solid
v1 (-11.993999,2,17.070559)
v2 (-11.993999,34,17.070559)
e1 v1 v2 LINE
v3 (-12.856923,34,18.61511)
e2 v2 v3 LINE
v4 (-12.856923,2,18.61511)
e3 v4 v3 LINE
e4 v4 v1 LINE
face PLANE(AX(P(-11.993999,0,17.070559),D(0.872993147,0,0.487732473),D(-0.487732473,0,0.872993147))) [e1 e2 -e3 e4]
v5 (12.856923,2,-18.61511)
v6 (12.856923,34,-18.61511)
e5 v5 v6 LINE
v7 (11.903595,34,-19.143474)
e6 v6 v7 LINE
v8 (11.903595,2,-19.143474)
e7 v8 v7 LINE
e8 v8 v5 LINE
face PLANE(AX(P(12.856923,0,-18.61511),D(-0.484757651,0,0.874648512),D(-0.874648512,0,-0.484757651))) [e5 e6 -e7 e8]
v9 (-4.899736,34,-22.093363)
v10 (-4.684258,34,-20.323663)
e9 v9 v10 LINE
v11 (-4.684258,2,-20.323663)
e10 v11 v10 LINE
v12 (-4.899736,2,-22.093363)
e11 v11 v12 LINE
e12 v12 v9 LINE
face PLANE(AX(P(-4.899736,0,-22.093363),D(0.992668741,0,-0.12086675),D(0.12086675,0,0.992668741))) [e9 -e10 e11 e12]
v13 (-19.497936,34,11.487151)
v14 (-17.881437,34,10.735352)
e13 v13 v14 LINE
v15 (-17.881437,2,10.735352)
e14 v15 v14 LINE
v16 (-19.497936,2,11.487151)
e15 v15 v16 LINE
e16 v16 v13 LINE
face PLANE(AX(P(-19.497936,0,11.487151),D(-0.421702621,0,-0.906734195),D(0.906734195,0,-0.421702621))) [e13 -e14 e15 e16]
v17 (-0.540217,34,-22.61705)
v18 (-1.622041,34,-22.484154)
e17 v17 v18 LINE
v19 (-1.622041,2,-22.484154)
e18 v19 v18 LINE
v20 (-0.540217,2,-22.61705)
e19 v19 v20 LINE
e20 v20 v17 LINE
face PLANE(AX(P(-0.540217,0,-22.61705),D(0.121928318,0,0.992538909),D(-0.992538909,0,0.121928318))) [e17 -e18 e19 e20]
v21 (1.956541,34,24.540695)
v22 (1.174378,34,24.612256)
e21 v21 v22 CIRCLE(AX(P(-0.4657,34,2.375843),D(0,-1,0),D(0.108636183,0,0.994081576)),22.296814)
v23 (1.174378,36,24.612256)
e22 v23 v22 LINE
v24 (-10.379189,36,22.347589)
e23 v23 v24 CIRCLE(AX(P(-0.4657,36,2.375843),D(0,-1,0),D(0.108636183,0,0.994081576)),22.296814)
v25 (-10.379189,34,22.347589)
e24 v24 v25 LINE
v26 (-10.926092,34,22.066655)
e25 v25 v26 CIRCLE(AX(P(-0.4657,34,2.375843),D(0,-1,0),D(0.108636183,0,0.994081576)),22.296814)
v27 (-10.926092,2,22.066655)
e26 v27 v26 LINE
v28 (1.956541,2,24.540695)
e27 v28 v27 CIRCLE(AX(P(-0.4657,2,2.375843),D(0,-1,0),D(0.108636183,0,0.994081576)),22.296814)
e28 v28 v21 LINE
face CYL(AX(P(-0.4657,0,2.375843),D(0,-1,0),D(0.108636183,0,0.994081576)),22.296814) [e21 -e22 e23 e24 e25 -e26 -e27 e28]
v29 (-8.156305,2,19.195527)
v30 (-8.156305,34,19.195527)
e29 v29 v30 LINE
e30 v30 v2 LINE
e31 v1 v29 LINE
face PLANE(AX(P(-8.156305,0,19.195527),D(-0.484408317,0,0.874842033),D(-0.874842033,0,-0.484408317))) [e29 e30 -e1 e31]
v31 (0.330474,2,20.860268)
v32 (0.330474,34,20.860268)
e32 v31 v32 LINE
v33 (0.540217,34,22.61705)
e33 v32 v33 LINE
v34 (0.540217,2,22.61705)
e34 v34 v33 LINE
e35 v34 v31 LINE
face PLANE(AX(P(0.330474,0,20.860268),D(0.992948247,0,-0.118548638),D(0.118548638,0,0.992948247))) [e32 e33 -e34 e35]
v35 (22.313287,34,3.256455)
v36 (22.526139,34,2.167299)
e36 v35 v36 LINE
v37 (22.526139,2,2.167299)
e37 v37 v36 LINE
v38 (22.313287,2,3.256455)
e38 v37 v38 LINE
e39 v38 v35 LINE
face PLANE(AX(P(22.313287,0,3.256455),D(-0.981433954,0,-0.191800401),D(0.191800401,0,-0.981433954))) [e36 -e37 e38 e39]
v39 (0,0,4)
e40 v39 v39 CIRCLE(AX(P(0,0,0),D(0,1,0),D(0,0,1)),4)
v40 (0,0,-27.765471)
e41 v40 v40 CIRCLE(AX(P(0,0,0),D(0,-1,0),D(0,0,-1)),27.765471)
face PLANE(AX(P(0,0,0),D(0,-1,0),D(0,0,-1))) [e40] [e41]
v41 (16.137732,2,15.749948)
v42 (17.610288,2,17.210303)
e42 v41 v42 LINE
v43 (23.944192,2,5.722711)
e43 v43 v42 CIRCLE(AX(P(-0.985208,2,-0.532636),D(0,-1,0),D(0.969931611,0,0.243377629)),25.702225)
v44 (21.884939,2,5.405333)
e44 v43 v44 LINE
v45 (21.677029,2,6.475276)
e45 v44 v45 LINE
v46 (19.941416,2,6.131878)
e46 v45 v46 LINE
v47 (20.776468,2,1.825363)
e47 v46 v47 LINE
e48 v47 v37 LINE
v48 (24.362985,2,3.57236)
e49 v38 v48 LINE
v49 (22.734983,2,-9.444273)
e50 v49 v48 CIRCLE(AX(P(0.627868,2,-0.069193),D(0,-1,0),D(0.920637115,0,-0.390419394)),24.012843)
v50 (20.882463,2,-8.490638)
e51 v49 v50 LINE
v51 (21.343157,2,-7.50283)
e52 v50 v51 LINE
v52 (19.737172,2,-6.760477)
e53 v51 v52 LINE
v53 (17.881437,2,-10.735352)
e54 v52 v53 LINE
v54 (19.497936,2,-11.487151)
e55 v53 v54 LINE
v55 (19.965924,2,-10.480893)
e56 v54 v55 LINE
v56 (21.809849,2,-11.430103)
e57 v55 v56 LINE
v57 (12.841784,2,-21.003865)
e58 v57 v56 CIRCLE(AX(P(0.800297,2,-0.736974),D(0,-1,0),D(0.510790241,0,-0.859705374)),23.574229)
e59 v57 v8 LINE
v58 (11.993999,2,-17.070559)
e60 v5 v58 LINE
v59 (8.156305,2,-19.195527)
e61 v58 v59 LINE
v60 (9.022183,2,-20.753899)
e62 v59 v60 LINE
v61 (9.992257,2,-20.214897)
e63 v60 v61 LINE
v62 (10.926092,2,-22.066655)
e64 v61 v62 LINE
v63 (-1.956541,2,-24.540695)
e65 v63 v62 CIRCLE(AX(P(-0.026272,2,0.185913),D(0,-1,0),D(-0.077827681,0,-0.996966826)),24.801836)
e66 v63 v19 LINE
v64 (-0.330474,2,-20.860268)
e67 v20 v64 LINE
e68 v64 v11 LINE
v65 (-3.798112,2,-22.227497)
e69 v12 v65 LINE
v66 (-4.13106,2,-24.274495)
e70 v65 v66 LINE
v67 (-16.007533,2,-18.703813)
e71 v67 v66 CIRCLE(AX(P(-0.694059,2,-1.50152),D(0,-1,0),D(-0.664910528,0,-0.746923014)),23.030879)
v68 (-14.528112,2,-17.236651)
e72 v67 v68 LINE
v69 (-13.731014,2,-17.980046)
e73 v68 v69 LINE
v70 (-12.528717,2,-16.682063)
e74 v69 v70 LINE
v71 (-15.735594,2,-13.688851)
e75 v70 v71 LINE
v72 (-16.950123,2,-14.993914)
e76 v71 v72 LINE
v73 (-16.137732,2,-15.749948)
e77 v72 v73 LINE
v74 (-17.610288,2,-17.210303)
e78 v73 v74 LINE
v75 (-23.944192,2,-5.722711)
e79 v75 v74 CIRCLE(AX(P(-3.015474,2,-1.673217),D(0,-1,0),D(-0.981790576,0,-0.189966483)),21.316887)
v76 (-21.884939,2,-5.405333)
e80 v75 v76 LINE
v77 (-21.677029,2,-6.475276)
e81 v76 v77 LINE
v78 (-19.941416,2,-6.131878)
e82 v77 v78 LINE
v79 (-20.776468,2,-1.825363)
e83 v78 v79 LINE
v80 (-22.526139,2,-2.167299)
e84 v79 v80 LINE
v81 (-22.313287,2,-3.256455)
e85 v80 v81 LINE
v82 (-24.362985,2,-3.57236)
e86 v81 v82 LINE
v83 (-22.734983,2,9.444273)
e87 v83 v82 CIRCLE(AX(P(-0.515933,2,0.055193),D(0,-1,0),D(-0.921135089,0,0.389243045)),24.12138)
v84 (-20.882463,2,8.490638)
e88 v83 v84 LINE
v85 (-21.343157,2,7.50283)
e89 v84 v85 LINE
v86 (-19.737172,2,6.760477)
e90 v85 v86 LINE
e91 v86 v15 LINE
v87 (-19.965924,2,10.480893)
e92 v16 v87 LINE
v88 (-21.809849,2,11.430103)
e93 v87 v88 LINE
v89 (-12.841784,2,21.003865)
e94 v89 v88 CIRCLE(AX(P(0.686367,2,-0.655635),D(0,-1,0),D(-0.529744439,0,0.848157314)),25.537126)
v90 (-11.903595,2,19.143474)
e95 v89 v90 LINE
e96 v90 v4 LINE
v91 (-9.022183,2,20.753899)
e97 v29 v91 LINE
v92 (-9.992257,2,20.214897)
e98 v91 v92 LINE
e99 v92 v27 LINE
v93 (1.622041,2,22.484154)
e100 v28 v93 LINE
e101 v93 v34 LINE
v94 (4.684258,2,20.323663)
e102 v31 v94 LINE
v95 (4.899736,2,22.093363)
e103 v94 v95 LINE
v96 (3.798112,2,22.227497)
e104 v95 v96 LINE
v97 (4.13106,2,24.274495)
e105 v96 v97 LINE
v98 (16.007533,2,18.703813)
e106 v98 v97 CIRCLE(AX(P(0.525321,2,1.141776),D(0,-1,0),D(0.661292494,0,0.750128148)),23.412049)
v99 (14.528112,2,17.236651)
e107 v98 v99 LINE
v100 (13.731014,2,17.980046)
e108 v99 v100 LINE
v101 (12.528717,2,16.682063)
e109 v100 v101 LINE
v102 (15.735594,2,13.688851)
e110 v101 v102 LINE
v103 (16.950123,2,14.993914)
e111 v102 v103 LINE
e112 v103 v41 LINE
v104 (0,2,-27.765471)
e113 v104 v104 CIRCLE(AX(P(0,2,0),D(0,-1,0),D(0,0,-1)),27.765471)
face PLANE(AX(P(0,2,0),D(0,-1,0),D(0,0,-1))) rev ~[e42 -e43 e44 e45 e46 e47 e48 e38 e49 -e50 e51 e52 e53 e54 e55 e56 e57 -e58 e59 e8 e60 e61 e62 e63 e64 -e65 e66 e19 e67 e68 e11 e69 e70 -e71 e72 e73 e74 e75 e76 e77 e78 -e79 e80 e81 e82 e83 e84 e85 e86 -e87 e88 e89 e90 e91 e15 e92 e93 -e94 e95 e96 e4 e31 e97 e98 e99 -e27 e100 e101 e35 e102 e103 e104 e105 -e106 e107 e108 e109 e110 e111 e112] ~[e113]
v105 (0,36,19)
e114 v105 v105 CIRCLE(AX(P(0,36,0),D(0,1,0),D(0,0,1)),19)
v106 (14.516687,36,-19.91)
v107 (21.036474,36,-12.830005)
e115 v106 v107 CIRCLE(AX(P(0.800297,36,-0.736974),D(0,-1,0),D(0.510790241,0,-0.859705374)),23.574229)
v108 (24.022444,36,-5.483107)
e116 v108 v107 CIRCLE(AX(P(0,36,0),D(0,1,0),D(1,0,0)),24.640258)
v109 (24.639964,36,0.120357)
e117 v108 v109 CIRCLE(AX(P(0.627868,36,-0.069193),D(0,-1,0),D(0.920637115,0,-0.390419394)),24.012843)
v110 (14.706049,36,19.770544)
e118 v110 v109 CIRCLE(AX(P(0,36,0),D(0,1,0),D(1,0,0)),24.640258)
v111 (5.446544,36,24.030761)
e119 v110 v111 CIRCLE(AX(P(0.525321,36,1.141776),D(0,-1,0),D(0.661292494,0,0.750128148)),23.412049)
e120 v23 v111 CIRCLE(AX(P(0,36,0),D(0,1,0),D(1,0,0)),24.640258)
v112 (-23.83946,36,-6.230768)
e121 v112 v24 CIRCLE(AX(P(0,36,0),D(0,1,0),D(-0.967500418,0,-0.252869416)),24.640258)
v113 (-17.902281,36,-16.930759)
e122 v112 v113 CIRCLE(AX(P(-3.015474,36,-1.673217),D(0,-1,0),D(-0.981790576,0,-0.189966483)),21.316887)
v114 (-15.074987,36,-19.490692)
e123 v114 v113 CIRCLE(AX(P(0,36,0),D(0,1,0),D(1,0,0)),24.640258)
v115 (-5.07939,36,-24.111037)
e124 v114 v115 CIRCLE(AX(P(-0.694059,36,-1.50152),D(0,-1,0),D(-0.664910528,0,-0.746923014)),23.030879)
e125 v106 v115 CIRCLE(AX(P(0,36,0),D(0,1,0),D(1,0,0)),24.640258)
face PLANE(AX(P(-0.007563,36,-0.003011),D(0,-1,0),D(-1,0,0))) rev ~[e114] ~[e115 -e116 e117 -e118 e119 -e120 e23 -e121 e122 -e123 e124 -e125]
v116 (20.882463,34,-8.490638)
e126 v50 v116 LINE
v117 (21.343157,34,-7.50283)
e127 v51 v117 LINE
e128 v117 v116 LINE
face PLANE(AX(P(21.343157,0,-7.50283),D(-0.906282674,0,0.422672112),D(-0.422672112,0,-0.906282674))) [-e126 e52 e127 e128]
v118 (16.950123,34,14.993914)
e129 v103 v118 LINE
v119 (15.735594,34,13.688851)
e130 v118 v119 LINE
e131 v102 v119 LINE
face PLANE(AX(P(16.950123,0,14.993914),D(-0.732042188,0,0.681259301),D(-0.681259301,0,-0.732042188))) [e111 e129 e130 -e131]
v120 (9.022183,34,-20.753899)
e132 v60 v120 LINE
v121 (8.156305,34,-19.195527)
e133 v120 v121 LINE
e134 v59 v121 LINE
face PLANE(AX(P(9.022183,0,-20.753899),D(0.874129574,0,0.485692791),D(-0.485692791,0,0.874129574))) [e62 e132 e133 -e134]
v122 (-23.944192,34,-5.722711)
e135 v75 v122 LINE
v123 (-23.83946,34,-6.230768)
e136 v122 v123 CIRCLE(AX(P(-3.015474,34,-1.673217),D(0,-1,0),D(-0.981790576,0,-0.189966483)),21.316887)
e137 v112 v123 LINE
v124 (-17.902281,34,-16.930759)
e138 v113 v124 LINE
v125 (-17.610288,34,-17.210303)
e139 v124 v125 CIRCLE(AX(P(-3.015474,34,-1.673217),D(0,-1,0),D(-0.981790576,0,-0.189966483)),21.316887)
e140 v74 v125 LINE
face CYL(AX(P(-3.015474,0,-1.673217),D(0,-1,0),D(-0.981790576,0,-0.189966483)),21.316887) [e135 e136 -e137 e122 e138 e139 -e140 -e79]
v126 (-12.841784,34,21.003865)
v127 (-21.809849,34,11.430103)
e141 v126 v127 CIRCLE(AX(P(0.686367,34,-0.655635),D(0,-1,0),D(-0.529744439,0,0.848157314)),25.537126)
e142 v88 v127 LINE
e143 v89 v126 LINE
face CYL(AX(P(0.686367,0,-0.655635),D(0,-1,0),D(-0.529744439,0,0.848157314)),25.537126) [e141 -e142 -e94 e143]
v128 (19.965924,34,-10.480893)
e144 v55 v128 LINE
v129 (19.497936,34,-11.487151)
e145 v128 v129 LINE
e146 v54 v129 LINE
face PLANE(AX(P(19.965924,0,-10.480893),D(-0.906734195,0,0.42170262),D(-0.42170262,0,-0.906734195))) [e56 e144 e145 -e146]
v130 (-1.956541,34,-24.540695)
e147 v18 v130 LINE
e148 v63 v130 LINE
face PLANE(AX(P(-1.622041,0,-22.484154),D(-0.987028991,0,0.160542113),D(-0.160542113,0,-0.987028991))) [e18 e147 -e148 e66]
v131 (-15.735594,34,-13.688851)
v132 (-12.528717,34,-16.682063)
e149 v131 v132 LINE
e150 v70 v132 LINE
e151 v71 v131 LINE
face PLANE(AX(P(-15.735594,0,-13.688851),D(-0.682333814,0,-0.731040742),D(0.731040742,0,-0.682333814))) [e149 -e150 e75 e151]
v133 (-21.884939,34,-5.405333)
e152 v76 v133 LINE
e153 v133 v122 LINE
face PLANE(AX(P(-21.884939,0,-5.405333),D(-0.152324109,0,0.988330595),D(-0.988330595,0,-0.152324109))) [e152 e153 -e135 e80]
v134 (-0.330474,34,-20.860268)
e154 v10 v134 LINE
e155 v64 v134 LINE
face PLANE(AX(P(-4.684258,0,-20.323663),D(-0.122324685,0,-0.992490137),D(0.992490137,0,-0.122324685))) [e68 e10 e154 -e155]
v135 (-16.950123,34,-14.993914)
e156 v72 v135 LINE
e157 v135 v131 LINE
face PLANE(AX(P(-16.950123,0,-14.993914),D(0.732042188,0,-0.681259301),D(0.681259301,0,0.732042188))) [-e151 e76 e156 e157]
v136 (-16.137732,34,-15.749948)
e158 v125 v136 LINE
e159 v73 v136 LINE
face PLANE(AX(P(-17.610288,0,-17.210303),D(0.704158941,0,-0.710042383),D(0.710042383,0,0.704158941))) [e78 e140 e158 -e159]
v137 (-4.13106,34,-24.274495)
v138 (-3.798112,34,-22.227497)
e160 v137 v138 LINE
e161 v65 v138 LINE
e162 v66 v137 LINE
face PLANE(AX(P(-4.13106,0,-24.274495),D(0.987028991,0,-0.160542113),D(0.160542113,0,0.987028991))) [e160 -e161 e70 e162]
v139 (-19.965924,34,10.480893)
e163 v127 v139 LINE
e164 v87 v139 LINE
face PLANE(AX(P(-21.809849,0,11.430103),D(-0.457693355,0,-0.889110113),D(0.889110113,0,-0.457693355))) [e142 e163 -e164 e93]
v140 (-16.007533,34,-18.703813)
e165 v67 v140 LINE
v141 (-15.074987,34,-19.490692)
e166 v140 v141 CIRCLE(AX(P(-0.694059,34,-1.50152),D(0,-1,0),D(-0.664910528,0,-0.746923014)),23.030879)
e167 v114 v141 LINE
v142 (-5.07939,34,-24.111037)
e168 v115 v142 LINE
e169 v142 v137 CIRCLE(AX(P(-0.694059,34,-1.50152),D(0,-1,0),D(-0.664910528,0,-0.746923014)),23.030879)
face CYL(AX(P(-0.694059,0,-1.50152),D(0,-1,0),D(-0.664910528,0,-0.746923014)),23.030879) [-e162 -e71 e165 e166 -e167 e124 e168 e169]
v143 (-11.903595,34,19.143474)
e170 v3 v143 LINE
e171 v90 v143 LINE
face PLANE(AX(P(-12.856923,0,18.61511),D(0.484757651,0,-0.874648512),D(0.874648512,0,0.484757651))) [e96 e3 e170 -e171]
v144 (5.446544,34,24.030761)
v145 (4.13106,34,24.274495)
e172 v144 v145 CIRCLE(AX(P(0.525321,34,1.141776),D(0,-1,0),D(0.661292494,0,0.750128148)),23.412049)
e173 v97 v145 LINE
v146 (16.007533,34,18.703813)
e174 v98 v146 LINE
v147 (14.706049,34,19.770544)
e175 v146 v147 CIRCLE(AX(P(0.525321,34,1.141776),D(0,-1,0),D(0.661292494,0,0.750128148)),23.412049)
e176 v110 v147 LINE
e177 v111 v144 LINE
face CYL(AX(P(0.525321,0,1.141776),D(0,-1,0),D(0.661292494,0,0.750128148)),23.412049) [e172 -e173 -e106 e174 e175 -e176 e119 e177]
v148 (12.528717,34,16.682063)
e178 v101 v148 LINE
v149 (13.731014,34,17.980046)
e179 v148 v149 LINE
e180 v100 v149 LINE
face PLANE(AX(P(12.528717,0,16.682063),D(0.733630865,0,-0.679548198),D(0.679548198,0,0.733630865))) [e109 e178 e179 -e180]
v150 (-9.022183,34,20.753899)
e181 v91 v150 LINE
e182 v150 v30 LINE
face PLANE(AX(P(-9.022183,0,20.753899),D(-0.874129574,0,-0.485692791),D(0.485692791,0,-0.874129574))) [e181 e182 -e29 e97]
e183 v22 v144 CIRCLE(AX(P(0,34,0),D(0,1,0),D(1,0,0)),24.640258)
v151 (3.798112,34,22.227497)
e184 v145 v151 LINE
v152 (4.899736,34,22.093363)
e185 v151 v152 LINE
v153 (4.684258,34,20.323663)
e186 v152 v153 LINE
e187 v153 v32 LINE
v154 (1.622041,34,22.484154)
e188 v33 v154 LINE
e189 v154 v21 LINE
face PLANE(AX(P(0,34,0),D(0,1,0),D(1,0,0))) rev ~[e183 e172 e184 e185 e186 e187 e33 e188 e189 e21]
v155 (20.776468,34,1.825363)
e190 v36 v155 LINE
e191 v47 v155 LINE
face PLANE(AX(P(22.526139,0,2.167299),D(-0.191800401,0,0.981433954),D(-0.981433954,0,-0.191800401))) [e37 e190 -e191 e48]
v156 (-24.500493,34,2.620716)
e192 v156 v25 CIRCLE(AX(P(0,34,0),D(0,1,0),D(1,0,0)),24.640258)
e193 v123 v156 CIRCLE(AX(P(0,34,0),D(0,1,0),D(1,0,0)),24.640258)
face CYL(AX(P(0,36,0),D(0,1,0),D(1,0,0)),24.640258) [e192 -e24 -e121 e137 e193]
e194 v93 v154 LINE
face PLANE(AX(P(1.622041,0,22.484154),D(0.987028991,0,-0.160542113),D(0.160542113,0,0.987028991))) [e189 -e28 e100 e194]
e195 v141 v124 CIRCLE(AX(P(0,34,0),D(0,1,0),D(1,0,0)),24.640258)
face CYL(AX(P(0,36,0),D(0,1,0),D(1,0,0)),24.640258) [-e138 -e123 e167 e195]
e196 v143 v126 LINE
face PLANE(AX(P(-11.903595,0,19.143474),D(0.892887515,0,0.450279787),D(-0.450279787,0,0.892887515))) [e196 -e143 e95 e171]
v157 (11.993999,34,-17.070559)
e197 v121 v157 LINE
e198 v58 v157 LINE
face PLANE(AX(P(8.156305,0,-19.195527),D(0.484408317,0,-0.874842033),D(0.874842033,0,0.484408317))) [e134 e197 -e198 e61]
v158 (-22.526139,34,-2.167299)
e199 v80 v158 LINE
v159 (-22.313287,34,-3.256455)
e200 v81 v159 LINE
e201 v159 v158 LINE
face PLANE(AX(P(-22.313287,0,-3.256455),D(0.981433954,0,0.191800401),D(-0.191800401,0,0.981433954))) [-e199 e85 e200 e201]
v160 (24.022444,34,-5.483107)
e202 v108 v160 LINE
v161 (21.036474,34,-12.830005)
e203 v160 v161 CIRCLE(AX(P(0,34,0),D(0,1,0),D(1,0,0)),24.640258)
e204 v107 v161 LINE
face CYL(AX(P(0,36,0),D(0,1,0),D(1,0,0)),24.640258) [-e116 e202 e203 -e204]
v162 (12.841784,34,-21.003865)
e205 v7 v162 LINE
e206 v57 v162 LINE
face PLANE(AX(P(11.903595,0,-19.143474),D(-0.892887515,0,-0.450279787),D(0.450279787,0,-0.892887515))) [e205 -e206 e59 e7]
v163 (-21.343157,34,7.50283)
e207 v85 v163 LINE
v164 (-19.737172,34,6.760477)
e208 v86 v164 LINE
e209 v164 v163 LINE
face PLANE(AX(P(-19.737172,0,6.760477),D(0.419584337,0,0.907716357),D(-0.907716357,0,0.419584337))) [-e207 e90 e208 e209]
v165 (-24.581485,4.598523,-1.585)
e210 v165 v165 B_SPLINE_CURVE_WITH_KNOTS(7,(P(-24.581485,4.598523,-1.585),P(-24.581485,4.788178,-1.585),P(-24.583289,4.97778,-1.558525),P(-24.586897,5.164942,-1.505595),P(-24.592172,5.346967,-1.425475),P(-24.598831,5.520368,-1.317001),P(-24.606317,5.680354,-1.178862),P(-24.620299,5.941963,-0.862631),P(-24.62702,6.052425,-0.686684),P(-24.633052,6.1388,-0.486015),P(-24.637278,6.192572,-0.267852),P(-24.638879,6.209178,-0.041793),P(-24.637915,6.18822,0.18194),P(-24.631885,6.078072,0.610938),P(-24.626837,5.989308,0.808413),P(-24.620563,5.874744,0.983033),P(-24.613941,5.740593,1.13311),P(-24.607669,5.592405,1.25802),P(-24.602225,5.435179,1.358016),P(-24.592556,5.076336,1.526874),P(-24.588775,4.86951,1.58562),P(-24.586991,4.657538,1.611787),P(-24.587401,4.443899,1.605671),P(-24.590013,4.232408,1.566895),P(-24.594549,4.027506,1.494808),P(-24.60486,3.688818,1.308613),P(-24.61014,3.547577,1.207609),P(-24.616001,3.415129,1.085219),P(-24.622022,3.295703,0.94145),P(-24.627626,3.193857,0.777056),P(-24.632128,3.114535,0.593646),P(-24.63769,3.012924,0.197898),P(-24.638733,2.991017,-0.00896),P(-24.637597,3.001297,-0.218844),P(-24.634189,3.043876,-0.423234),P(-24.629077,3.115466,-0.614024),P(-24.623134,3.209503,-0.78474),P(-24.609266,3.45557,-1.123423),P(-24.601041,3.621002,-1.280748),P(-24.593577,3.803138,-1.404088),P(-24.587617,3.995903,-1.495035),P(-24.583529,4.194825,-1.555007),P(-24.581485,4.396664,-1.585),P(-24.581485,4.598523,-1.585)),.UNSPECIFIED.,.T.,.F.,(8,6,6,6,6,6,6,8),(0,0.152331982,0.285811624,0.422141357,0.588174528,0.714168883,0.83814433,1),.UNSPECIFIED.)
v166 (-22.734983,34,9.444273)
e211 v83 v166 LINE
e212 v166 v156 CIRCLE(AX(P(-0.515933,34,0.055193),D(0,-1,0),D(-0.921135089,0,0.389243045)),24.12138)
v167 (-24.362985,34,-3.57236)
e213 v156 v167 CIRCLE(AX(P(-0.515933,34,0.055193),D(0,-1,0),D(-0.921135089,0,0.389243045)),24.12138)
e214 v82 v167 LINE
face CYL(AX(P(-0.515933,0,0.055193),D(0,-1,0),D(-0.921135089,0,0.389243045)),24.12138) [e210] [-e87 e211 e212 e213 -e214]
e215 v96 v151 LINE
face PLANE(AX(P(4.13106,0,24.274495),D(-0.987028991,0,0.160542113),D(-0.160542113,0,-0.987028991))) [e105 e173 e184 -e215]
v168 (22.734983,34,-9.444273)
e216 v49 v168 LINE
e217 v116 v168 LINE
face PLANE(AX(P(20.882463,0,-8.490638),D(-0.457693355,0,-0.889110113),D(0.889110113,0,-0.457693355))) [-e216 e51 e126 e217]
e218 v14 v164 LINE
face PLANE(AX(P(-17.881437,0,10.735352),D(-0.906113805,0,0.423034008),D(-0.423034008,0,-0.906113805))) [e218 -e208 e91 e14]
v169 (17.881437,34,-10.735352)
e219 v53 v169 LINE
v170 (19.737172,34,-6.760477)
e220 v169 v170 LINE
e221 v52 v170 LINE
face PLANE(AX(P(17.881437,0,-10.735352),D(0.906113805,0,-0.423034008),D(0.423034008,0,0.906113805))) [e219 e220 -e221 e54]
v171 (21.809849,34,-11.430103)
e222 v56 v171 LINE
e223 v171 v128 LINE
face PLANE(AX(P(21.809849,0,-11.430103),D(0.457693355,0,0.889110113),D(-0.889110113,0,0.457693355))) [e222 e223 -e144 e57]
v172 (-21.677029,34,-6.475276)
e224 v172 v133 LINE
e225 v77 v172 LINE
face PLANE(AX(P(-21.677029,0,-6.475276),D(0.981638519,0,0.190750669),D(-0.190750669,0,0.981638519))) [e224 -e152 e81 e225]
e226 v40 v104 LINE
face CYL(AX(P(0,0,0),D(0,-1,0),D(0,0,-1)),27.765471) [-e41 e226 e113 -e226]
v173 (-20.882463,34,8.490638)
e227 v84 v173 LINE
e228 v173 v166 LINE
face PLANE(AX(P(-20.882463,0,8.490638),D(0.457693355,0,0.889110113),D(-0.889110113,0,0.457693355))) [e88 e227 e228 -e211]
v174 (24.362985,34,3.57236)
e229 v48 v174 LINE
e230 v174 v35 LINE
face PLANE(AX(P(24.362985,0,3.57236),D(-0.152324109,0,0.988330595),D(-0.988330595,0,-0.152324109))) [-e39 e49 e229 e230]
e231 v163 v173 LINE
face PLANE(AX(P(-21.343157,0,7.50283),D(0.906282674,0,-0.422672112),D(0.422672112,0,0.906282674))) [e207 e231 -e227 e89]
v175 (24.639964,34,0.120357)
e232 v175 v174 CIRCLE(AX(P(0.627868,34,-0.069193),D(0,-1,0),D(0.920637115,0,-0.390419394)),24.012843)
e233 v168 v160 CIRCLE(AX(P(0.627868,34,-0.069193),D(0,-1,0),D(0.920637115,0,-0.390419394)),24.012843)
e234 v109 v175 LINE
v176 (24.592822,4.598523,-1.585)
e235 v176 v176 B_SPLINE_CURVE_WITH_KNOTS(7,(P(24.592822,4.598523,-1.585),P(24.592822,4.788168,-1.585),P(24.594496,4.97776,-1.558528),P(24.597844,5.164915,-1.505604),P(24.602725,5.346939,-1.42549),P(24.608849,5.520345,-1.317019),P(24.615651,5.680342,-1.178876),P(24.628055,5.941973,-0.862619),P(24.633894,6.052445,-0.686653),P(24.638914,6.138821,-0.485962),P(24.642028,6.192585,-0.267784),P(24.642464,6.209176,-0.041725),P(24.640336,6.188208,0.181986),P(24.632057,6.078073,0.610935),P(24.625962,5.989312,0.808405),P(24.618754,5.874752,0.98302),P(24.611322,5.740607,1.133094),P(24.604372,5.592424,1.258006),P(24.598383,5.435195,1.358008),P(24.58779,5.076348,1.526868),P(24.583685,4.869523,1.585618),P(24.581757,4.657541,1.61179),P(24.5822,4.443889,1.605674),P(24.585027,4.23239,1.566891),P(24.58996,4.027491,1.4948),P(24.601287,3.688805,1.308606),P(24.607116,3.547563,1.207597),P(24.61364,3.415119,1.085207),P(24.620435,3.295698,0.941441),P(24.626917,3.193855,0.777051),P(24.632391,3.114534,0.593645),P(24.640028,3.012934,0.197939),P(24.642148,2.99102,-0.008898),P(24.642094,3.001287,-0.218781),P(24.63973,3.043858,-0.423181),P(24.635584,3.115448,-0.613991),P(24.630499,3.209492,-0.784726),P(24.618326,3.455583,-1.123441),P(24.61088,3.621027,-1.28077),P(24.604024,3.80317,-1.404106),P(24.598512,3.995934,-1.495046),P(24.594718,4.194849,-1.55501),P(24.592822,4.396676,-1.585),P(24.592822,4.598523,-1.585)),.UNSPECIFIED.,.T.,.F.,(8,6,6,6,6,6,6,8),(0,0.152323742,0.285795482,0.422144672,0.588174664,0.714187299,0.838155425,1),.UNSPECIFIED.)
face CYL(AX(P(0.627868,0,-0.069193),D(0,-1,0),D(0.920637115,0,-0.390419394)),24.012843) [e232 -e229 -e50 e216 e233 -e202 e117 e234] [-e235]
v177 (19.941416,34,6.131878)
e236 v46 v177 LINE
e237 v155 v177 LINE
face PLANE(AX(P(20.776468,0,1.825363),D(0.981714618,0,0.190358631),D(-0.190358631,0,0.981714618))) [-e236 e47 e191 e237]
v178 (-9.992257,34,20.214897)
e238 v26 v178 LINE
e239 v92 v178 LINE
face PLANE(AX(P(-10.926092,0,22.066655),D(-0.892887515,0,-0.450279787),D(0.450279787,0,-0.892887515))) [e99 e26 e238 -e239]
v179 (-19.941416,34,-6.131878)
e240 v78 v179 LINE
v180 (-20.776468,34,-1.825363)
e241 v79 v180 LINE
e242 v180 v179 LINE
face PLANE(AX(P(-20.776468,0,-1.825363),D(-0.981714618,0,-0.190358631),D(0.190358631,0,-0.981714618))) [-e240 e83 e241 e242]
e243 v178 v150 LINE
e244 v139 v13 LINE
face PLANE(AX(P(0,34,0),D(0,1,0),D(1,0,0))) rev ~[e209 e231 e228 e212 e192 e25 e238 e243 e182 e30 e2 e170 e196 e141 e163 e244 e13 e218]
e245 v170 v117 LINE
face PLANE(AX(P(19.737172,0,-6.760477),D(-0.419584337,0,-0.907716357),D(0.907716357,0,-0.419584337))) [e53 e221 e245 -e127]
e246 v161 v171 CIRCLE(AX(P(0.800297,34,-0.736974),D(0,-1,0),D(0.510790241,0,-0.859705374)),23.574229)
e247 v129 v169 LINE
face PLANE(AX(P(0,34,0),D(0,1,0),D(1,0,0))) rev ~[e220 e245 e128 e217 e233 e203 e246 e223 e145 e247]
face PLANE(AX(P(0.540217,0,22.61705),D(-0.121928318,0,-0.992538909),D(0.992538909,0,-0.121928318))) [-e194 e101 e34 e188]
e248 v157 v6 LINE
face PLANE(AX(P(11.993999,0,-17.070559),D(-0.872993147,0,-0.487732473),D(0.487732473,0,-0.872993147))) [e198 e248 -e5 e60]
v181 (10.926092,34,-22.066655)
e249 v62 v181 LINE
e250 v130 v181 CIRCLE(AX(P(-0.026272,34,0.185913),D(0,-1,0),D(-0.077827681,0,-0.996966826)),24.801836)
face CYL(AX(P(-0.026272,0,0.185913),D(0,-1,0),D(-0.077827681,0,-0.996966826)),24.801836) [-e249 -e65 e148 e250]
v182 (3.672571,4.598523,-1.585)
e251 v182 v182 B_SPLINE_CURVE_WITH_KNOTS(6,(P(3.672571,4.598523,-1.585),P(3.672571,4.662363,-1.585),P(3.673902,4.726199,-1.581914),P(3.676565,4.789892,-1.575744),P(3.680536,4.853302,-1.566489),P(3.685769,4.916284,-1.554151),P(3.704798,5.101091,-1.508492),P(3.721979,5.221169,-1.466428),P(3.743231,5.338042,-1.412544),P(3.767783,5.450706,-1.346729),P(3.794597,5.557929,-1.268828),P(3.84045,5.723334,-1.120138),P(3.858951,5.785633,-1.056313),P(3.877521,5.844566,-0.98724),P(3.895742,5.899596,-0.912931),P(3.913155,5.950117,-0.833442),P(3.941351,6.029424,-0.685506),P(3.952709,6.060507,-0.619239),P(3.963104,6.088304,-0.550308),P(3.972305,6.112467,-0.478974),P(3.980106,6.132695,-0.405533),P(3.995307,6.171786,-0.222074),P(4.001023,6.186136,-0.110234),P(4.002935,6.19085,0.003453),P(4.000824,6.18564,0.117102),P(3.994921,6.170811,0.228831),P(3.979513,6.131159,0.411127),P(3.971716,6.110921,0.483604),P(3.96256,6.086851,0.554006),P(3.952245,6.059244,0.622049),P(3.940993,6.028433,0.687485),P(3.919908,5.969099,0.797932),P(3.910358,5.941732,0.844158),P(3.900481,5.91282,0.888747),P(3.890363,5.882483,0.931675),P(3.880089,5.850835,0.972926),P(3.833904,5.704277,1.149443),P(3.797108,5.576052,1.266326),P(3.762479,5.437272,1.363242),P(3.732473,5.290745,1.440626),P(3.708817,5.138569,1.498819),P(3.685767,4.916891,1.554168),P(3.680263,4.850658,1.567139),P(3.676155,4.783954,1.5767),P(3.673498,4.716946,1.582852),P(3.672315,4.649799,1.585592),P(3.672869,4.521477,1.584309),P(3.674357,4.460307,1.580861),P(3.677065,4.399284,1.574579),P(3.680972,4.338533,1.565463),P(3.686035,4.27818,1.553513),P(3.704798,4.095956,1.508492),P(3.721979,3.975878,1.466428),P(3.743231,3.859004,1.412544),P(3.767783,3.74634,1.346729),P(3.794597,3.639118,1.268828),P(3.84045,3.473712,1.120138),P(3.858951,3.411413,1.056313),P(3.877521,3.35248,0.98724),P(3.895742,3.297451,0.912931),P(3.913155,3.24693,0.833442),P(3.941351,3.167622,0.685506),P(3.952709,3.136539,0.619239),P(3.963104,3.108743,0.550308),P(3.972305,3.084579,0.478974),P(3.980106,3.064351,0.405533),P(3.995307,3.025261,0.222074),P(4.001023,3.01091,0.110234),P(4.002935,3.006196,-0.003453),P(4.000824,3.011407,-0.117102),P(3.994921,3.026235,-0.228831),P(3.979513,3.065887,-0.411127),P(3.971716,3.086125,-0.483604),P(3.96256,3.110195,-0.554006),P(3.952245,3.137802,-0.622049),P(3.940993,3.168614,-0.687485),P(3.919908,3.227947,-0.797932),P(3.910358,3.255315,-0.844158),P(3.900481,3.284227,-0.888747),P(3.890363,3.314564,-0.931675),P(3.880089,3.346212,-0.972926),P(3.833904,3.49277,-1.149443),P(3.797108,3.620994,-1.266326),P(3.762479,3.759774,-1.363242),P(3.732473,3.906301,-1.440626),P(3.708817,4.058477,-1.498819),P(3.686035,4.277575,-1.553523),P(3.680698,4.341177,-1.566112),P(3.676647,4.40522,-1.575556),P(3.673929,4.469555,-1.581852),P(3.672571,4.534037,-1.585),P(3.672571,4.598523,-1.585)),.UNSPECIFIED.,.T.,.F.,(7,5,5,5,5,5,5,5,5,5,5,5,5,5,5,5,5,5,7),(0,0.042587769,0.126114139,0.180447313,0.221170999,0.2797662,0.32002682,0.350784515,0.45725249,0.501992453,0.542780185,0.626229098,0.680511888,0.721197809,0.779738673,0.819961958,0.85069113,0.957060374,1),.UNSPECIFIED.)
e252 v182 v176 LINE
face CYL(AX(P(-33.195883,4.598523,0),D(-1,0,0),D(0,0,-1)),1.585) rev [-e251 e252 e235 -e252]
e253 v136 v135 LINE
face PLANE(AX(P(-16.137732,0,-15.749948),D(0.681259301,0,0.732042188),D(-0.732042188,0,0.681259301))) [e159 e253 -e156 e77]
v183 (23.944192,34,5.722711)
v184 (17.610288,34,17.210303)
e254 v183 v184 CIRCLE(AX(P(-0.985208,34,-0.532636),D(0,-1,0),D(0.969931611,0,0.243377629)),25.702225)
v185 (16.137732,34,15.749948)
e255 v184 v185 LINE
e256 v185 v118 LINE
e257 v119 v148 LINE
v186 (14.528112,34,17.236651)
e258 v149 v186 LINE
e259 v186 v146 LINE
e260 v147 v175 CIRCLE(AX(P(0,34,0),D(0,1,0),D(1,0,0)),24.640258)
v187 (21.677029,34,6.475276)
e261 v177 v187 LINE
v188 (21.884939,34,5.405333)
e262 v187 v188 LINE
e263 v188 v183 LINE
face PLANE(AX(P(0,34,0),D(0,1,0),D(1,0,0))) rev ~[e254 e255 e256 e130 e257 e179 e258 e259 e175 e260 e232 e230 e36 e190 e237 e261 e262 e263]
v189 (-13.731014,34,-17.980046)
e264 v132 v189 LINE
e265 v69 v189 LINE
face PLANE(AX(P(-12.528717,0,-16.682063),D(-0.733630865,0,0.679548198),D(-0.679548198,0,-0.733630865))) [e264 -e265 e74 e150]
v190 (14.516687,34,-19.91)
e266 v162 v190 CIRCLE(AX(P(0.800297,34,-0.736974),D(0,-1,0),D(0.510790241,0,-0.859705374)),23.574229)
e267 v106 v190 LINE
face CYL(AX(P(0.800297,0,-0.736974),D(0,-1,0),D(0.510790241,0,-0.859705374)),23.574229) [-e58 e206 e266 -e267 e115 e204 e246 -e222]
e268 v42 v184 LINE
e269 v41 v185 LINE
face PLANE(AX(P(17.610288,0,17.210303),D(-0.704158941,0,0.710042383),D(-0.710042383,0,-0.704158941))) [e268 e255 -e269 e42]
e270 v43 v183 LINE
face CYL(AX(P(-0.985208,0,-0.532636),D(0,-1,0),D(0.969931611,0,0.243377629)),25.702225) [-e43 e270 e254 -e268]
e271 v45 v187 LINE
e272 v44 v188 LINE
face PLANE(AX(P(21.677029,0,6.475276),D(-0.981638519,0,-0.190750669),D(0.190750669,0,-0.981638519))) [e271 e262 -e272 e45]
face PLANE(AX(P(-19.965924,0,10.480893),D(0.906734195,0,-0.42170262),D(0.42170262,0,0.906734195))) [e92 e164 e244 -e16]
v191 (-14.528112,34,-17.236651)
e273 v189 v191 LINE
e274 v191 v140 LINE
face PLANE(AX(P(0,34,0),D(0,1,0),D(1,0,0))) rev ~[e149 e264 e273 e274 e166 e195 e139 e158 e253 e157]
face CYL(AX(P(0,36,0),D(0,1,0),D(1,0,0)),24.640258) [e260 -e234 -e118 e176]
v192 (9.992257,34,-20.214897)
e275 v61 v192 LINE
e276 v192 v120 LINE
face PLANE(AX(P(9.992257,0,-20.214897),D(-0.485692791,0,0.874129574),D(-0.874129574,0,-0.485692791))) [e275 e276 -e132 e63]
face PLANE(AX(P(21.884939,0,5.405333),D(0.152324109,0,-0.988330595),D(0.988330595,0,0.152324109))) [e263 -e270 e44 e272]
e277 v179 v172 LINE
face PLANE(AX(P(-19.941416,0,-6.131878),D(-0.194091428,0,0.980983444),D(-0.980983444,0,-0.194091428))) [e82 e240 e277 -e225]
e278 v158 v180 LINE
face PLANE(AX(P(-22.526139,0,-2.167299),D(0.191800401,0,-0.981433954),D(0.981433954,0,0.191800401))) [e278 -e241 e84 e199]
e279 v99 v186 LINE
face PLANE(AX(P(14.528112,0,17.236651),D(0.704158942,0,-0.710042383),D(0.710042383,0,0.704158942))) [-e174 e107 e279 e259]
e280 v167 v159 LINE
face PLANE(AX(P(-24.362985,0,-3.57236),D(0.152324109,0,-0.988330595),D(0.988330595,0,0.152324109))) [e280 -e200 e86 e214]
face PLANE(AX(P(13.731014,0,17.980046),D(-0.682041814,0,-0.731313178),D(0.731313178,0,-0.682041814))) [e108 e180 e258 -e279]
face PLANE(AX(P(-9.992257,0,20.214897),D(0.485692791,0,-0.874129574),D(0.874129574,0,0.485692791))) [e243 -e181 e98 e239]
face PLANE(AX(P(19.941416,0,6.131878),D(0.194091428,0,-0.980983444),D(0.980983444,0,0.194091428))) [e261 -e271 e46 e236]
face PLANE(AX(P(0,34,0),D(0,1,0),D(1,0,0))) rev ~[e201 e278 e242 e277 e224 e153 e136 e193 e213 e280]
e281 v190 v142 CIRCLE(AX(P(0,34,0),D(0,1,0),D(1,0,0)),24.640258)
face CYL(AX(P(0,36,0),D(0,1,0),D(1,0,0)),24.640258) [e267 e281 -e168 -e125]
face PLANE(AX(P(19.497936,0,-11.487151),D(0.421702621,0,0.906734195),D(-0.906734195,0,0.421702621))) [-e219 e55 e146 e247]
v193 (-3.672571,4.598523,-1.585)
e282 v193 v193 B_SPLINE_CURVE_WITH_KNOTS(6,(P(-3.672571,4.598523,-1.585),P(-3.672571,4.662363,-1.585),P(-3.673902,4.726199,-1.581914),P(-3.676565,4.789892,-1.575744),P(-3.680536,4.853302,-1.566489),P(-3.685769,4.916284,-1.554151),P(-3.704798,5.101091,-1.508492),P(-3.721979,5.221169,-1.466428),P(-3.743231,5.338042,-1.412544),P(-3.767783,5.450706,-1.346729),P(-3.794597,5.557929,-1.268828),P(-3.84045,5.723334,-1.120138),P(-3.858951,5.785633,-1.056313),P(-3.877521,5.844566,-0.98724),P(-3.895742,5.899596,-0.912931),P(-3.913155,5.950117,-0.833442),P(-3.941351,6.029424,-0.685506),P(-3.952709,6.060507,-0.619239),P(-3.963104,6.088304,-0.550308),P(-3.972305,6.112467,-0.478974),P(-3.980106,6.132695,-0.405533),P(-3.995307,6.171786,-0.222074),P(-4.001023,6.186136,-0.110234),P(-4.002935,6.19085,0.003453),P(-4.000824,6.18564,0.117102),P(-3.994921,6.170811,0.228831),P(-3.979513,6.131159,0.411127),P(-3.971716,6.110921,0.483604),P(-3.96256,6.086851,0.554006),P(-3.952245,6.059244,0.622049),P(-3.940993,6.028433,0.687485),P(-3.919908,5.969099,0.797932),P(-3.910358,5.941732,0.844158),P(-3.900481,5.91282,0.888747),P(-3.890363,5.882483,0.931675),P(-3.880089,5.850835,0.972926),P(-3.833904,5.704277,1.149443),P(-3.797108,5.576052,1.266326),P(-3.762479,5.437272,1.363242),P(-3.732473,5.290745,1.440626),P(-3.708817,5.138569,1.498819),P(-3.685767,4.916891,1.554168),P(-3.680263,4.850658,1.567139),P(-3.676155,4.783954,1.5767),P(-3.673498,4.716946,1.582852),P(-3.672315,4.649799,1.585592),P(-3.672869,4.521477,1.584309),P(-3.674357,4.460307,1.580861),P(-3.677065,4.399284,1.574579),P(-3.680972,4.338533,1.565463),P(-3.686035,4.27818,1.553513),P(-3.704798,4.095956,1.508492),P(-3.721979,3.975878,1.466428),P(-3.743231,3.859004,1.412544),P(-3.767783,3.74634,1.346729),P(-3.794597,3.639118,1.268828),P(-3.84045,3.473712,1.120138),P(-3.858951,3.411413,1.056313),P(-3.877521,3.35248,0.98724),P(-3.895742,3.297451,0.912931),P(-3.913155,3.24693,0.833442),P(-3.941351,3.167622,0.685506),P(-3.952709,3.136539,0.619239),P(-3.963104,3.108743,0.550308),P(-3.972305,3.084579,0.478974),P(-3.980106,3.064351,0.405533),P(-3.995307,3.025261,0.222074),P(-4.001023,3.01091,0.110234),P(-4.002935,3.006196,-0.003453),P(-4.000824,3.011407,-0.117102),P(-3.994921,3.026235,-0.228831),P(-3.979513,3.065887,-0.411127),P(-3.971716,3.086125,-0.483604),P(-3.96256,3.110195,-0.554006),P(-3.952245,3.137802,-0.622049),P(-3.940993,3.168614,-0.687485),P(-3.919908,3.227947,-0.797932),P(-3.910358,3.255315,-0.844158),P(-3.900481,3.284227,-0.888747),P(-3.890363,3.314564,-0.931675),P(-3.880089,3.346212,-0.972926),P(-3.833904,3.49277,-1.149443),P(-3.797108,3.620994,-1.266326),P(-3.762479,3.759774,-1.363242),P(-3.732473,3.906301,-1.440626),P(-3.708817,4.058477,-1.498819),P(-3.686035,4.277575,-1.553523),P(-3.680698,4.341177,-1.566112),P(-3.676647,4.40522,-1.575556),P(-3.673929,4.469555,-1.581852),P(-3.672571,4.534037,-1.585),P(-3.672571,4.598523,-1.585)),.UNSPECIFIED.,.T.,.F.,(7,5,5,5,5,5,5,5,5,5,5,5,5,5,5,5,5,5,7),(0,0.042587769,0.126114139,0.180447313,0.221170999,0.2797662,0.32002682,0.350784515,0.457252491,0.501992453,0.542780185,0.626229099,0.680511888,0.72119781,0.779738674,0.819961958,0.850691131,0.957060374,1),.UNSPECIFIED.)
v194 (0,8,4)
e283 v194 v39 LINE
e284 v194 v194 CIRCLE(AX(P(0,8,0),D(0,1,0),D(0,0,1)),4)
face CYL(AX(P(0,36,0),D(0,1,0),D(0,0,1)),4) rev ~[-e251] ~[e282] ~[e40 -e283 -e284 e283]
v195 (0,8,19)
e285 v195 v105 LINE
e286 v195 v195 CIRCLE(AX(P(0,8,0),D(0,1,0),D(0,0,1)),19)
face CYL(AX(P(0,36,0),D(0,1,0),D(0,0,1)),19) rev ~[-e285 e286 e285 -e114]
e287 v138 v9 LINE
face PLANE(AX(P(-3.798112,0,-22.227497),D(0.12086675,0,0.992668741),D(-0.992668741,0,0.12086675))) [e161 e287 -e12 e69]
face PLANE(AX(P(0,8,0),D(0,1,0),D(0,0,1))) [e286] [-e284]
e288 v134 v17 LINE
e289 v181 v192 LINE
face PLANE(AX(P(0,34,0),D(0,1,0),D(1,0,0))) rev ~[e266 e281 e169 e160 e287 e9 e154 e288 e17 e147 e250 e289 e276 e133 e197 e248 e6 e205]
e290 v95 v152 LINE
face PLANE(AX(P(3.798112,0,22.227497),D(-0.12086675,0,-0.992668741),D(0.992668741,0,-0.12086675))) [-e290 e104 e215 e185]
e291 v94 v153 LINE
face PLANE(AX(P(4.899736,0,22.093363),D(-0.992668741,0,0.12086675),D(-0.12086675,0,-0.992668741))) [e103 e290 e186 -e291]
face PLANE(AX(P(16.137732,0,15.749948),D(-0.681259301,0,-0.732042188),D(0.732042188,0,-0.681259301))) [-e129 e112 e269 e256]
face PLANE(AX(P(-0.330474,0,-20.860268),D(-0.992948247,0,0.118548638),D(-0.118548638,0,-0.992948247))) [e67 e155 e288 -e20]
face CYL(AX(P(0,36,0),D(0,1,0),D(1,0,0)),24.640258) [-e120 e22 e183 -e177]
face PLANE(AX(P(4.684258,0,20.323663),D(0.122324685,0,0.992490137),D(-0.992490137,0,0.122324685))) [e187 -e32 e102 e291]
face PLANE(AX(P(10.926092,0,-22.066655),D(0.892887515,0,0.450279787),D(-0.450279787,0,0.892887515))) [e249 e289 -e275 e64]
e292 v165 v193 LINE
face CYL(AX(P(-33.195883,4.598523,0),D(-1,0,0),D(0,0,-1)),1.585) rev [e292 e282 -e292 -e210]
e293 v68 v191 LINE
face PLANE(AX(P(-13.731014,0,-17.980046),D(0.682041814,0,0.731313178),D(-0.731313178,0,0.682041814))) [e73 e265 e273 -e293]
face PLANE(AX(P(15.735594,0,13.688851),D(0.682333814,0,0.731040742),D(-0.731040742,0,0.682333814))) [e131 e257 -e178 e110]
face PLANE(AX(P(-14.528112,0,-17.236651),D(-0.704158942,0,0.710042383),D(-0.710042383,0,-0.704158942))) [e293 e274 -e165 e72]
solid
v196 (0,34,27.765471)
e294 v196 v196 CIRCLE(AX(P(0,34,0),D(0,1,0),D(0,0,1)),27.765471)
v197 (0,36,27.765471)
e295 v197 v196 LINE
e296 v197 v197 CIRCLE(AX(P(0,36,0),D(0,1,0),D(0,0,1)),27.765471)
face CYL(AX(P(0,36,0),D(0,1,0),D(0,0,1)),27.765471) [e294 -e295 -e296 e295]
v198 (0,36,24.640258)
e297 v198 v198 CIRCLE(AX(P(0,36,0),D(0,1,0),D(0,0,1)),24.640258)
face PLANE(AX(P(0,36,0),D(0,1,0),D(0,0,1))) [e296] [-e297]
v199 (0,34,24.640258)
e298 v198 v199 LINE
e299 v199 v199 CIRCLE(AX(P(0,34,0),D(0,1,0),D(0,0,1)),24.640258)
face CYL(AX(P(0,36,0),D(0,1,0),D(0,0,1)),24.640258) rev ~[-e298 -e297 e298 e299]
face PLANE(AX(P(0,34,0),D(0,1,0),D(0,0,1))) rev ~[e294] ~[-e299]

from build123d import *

# Parameters (mm, degrees)
BOSS_EXTRUDE1_DEPTH     = 36
SKETCH7_R               = 19
CUT_EXTRUDE2_DEPTH      = 28
SKETCH8_R               = 24.640257617
SKETCH8_R_2             = 19
BOSS_EXTRUDE2_DEPTH     = 2
BOSS_EXTRUDE3_START     = -2
SKETCH9_R               = 24.765471232
SKETCH9_R_2             = 19
BOSS_EXTRUDE3_DEPTH     = 2
CUT_EXTRUDE4_DEPTH      = 133.195882603
CUT_EXTRUDE4_DEPTH_BACK = 133.195882603
SKETCH12_R              = 1.585
SKETCH17_R              = 27.765471232
BOSS_EXTRUDE4_DEPTH     = 2
SKETCH18_R              = 27.765471232
SKETCH18_R_2            = 24.640257617
BOSS_EXTRUDE5_DEPTH     = 2
SKETCH6_R               = 4
CUT_EXTRUDE1_DEPTH      = 54.271406829


with BuildPart() as part:
    # Sketch5 → Boss-Extrude1 (new body)
    with BuildSketch(Plane(origin=(0, 0, 0), x_dir=(1, 0, 0), z_dir=(0, 1, 0))):
        with BuildLine():
            Line((-24.362984614, 3.572359692), (-22.313286634, 3.256454852))
            Line((-22.313286634, 3.256454852), (-22.526139017, 2.16729886))
            Line((-22.526139017, 2.16729886), (-20.776467593, 1.825362779))
            Line((-20.776467593, 1.825362779), (-19.941416091, 6.131877613))
            Line((-19.941416091, 6.131877613), (-21.677029311, 6.475275507))
            Line((-21.677029311, 6.475275507), (-21.884939056, 5.40533318))
            Line((-21.884939056, 5.40533318), (-23.944192117, 5.722710675))
            ThreePointArc((-23.944192117, 5.722710675), (-21.682866171, 11.965840949), (-17.610288244, 17.210302759))
            Line((-17.610288244, 17.210302759), (-16.137731951, 15.74994813))
            Line((-16.137731951, 15.74994813), (-16.950122975, 14.993913915))
            Line((-16.950122975, 14.993913915), (-15.735594044, 13.688850755))
            Line((-15.735594044, 13.688850755), (-12.52871728, 16.682063485))
            Line((-12.52871728, 16.682063485), (-13.731013652, 17.980046071))
            Line((-13.731013652, 17.980046071), (-14.52811249, 17.236650828))
            Line((-14.52811249, 17.236650828), (-16.007533401, 18.703813195))
            ThreePointArc((-16.007533401, 18.703813195), (-10.474304885, 22.352615221), (-4.131060316, 24.274495129))
            Line((-4.131060316, 24.274495129), (-3.798112164, 22.227496544))
            Line((-3.798112164, 22.227496544), (-4.89973607, 22.093363479))
            Line((-4.89973607, 22.093363479), (-4.684258404, 20.32366301))
            Line((-4.684258404, 20.32366301), (-0.330474303, 20.860268108))
            Line((-0.330474303, 20.860268108), (-0.540217479, 22.617050155))
            Line((-0.540217479, 22.617050155), (-1.622040745, 22.484153711))
            Line((-1.622040745, 22.484153711), (-1.956541002, 24.540694793))
            ThreePointArc((-1.956541002, 24.540694793), (4.651309478, 24.170837782), (10.926092243, 22.066655419))
            Line((10.926092243, 22.066655419), (9.992257377, 20.214896763))
            Line((9.992257377, 20.214896763), (9.022183477, 20.753899119))
            Line((9.022183477, 20.753899119), (8.156304735, 19.19552677))
            Line((8.156304735, 19.19552677), (11.993998625, 17.070559328))
            Line((11.993998625, 17.070559328), (12.85692341, 18.615109805))
            Line((12.85692341, 18.615109805), (11.903595433, 19.143474085))
            Line((11.903595433, 19.143474085), (12.841783559, 21.003865088))
            ThreePointArc((12.841783559, 21.003865088), (18.005151406, 16.85334037), (21.809848929, 11.430103357))
            Line((21.809848929, 11.430103357), (19.965924224, 10.480893498))
            Line((19.965924224, 10.480893498), (19.49793559, 11.487150696))
            Line((19.49793559, 11.487150696), (17.881436687, 10.735351737))
            Line((17.881436687, 10.735351737), (19.73717174, 6.760477092))
            Line((19.73717174, 6.760477092), (21.343156548, 7.502830214))
            Line((21.343156548, 7.502830214), (20.882462745, 8.490638021))
            Line((20.882462745, 8.490638021), (22.734983277, 9.444272814))
            ThreePointArc((22.734983277, 9.444272814), (24.455073827, 3.049281996), (24.362984614, -3.572359692))
            Line((24.362984614, -3.572359692), (22.313286634, -3.256454852))
            Line((22.313286634, -3.256454852), (22.526139017, -2.16729886))
            Line((22.526139017, -2.16729886), (20.776467593, -1.825362779))
            Line((20.776467593, -1.825362779), (19.941416091, -6.131877613))
            Line((19.941416091, -6.131877613), (21.677029311, -6.475275507))
            Line((21.677029311, -6.475275507), (21.884939056, -5.40533318))
            Line((21.884939056, -5.40533318), (23.944192117, -5.722710675))
            ThreePointArc((23.944192117, -5.722710675), (21.522464999, -11.877400691), (17.610288244, -17.210302759))
            Line((17.610288244, -17.210302759), (16.137731951, -15.74994813))
            Line((16.137731951, -15.74994813), (16.950122975, -14.993913915))
            Line((16.950122975, -14.993913915), (15.735594044, -13.688850755))
            Line((15.735594044, -13.688850755), (12.52871728, -16.682063485))
            Line((12.52871728, -16.682063485), (13.731013652, -17.980046071))
            Line((13.731013652, -17.980046071), (14.52811249, -17.236650828))
            Line((14.52811249, -17.236650828), (16.007533401, -18.703813195))
            ThreePointArc((16.007533401, -18.703813195), (10.467433433, -22.337965558), (4.131060316, -24.274495129))
            Line((4.131060316, -24.274495129), (3.798112164, -22.227496544))
            Line((3.798112164, -22.227496544), (4.89973607, -22.093363479))
            Line((4.89973607, -22.093363479), (4.684258404, -20.32366301))
            Line((4.684258404, -20.32366301), (0.330474303, -20.860268108))
            Line((0.330474303, -20.860268108), (0.540217479, -22.617050155))
            Line((0.540217479, -22.617050155), (1.622040745, -22.484153711))
            Line((1.622040745, -22.484153711), (1.956541002, -24.540694793))
            ThreePointArc((1.956541002, -24.540694793), (-4.670838102, -24.272525776), (-10.926092243, -22.066655419))
            Line((-10.926092243, -22.066655419), (-9.992257377, -20.214896763))
            Line((-9.992257377, -20.214896763), (-9.022183477, -20.753899119))
            Line((-9.022183477, -20.753899119), (-8.156304735, -19.19552677))
            Line((-8.156304735, -19.19552677), (-11.993998625, -17.070559328))
            Line((-11.993998625, -17.070559328), (-12.85692341, -18.615109805))
            Line((-12.85692341, -18.615109805), (-11.903595433, -19.143474085))
            Line((-11.903595433, -19.143474085), (-12.841783559, -21.003865088))
            ThreePointArc((-12.841783559, -21.003865088), (-17.951040918, -16.802653253), (-21.809848929, -11.430103357))
            Line((-21.809848929, -11.430103357), (-19.965924224, -10.480893498))
            Line((-19.965924224, -10.480893498), (-19.49793559, -11.487150696))
            Line((-19.49793559, -11.487150696), (-17.881436687, -10.735351737))
            Line((-17.881436687, -10.735351737), (-19.73717174, -6.760477092))
            Line((-19.73717174, -6.760477092), (-21.343156548, -7.502830214))
            Line((-21.343156548, -7.502830214), (-20.882462745, -8.490638021))
            Line((-20.882462745, -8.490638021), (-22.734983277, -9.444272814))
            ThreePointArc((-22.734983277, -9.444272814), (-24.450836742, -3.04875206), (-24.362984614, 3.572359692))
        make_face()
    extrude(amount=BOSS_EXTRUDE1_DEPTH)

    # Sketch7 → Cut-Extrude2 (cut)
    with BuildSketch(Plane(origin=(0, 36, 0), x_dir=(1, 0, 0), z_dir=(0, 1, 0))):
        with Locations(Location((0, 0, 0), (0, 0, 270))):
            Circle(SKETCH7_R)
    extrude(amount=-CUT_EXTRUDE2_DEPTH, mode=Mode.SUBTRACT)

    # Sketch8 → Boss-Extrude2 (add)
    with BuildSketch(Plane(origin=(0, 36, 0), x_dir=(1, 0, 0), z_dir=(0, 1, 0))):
        Circle(SKETCH8_R)
        with Locations(Location((0, 0, 0), (0, 0, 270))):
            Circle(SKETCH8_R_2, mode=Mode.SUBTRACT)
    extrude(amount=-BOSS_EXTRUDE2_DEPTH)

    # Sketch9 → Boss-Extrude3 (add)
    with BuildSketch(Plane.XZ.offset(BOSS_EXTRUDE3_START)):
        with Locations(Location((0, 0, 0), (0, 0, 270))):
            Circle(SKETCH9_R)
        with Locations(Location((0, 0, 0), (0, 0, 90))):
            Circle(SKETCH9_R_2, mode=Mode.SUBTRACT)
    extrude(amount=BOSS_EXTRUDE3_DEPTH)

    # Sketch12 → Cut-Extrude4 (cut, two sides: drawn at the far end of the back side and taken through both)
    with BuildSketch(Plane(origin=(100, 0, 0), x_dir=(0, 0, -1), z_dir=(1, 0, 0)).offset(-CUT_EXTRUDE4_DEPTH_BACK)):
        with Locations((0, 4.59852315)):
            Circle(SKETCH12_R)
    extrude(amount=CUT_EXTRUDE4_DEPTH + CUT_EXTRUDE4_DEPTH_BACK, mode=Mode.SUBTRACT)

    # Sketch17 → Boss-Extrude4 (add)
    with BuildSketch(Plane.XZ):
        with Locations(Location((0, 0, 0), (0, 0, 270))):
            Circle(SKETCH17_R)
    extrude(amount=-BOSS_EXTRUDE4_DEPTH)

    # Sketch6 → Cut-Extrude1 (cut, through all)
    with BuildSketch(Plane(origin=(0, 36, 0), x_dir=(1, 0, 0), z_dir=(0, 1, 0))):
        with Locations(Location((0, 0, 0), (0, 0, 270))):
            Circle(SKETCH6_R)
    extrude(amount=-CUT_EXTRUDE1_DEPTH, mode=Mode.SUBTRACT)


with BuildPart() as body_2:
    # Sketch18 → Boss-Extrude5 (new body)
    with BuildSketch(Plane(origin=(0, 36, 0), x_dir=(1, 0, 0), z_dir=(0, 1, 0))):
        with Locations(Location((0, 0, 0), (0, 0, 270))):
            Circle(SKETCH18_R)
        with Locations(Location((0, 0, 0), (0, 0, 270))):
            Circle(SKETCH18_R_2, mode=Mode.SUBTRACT)
    extrude(amount=-BOSS_EXTRUDE5_DEPTH)


solid = Compound([part.part, body_2.part])
